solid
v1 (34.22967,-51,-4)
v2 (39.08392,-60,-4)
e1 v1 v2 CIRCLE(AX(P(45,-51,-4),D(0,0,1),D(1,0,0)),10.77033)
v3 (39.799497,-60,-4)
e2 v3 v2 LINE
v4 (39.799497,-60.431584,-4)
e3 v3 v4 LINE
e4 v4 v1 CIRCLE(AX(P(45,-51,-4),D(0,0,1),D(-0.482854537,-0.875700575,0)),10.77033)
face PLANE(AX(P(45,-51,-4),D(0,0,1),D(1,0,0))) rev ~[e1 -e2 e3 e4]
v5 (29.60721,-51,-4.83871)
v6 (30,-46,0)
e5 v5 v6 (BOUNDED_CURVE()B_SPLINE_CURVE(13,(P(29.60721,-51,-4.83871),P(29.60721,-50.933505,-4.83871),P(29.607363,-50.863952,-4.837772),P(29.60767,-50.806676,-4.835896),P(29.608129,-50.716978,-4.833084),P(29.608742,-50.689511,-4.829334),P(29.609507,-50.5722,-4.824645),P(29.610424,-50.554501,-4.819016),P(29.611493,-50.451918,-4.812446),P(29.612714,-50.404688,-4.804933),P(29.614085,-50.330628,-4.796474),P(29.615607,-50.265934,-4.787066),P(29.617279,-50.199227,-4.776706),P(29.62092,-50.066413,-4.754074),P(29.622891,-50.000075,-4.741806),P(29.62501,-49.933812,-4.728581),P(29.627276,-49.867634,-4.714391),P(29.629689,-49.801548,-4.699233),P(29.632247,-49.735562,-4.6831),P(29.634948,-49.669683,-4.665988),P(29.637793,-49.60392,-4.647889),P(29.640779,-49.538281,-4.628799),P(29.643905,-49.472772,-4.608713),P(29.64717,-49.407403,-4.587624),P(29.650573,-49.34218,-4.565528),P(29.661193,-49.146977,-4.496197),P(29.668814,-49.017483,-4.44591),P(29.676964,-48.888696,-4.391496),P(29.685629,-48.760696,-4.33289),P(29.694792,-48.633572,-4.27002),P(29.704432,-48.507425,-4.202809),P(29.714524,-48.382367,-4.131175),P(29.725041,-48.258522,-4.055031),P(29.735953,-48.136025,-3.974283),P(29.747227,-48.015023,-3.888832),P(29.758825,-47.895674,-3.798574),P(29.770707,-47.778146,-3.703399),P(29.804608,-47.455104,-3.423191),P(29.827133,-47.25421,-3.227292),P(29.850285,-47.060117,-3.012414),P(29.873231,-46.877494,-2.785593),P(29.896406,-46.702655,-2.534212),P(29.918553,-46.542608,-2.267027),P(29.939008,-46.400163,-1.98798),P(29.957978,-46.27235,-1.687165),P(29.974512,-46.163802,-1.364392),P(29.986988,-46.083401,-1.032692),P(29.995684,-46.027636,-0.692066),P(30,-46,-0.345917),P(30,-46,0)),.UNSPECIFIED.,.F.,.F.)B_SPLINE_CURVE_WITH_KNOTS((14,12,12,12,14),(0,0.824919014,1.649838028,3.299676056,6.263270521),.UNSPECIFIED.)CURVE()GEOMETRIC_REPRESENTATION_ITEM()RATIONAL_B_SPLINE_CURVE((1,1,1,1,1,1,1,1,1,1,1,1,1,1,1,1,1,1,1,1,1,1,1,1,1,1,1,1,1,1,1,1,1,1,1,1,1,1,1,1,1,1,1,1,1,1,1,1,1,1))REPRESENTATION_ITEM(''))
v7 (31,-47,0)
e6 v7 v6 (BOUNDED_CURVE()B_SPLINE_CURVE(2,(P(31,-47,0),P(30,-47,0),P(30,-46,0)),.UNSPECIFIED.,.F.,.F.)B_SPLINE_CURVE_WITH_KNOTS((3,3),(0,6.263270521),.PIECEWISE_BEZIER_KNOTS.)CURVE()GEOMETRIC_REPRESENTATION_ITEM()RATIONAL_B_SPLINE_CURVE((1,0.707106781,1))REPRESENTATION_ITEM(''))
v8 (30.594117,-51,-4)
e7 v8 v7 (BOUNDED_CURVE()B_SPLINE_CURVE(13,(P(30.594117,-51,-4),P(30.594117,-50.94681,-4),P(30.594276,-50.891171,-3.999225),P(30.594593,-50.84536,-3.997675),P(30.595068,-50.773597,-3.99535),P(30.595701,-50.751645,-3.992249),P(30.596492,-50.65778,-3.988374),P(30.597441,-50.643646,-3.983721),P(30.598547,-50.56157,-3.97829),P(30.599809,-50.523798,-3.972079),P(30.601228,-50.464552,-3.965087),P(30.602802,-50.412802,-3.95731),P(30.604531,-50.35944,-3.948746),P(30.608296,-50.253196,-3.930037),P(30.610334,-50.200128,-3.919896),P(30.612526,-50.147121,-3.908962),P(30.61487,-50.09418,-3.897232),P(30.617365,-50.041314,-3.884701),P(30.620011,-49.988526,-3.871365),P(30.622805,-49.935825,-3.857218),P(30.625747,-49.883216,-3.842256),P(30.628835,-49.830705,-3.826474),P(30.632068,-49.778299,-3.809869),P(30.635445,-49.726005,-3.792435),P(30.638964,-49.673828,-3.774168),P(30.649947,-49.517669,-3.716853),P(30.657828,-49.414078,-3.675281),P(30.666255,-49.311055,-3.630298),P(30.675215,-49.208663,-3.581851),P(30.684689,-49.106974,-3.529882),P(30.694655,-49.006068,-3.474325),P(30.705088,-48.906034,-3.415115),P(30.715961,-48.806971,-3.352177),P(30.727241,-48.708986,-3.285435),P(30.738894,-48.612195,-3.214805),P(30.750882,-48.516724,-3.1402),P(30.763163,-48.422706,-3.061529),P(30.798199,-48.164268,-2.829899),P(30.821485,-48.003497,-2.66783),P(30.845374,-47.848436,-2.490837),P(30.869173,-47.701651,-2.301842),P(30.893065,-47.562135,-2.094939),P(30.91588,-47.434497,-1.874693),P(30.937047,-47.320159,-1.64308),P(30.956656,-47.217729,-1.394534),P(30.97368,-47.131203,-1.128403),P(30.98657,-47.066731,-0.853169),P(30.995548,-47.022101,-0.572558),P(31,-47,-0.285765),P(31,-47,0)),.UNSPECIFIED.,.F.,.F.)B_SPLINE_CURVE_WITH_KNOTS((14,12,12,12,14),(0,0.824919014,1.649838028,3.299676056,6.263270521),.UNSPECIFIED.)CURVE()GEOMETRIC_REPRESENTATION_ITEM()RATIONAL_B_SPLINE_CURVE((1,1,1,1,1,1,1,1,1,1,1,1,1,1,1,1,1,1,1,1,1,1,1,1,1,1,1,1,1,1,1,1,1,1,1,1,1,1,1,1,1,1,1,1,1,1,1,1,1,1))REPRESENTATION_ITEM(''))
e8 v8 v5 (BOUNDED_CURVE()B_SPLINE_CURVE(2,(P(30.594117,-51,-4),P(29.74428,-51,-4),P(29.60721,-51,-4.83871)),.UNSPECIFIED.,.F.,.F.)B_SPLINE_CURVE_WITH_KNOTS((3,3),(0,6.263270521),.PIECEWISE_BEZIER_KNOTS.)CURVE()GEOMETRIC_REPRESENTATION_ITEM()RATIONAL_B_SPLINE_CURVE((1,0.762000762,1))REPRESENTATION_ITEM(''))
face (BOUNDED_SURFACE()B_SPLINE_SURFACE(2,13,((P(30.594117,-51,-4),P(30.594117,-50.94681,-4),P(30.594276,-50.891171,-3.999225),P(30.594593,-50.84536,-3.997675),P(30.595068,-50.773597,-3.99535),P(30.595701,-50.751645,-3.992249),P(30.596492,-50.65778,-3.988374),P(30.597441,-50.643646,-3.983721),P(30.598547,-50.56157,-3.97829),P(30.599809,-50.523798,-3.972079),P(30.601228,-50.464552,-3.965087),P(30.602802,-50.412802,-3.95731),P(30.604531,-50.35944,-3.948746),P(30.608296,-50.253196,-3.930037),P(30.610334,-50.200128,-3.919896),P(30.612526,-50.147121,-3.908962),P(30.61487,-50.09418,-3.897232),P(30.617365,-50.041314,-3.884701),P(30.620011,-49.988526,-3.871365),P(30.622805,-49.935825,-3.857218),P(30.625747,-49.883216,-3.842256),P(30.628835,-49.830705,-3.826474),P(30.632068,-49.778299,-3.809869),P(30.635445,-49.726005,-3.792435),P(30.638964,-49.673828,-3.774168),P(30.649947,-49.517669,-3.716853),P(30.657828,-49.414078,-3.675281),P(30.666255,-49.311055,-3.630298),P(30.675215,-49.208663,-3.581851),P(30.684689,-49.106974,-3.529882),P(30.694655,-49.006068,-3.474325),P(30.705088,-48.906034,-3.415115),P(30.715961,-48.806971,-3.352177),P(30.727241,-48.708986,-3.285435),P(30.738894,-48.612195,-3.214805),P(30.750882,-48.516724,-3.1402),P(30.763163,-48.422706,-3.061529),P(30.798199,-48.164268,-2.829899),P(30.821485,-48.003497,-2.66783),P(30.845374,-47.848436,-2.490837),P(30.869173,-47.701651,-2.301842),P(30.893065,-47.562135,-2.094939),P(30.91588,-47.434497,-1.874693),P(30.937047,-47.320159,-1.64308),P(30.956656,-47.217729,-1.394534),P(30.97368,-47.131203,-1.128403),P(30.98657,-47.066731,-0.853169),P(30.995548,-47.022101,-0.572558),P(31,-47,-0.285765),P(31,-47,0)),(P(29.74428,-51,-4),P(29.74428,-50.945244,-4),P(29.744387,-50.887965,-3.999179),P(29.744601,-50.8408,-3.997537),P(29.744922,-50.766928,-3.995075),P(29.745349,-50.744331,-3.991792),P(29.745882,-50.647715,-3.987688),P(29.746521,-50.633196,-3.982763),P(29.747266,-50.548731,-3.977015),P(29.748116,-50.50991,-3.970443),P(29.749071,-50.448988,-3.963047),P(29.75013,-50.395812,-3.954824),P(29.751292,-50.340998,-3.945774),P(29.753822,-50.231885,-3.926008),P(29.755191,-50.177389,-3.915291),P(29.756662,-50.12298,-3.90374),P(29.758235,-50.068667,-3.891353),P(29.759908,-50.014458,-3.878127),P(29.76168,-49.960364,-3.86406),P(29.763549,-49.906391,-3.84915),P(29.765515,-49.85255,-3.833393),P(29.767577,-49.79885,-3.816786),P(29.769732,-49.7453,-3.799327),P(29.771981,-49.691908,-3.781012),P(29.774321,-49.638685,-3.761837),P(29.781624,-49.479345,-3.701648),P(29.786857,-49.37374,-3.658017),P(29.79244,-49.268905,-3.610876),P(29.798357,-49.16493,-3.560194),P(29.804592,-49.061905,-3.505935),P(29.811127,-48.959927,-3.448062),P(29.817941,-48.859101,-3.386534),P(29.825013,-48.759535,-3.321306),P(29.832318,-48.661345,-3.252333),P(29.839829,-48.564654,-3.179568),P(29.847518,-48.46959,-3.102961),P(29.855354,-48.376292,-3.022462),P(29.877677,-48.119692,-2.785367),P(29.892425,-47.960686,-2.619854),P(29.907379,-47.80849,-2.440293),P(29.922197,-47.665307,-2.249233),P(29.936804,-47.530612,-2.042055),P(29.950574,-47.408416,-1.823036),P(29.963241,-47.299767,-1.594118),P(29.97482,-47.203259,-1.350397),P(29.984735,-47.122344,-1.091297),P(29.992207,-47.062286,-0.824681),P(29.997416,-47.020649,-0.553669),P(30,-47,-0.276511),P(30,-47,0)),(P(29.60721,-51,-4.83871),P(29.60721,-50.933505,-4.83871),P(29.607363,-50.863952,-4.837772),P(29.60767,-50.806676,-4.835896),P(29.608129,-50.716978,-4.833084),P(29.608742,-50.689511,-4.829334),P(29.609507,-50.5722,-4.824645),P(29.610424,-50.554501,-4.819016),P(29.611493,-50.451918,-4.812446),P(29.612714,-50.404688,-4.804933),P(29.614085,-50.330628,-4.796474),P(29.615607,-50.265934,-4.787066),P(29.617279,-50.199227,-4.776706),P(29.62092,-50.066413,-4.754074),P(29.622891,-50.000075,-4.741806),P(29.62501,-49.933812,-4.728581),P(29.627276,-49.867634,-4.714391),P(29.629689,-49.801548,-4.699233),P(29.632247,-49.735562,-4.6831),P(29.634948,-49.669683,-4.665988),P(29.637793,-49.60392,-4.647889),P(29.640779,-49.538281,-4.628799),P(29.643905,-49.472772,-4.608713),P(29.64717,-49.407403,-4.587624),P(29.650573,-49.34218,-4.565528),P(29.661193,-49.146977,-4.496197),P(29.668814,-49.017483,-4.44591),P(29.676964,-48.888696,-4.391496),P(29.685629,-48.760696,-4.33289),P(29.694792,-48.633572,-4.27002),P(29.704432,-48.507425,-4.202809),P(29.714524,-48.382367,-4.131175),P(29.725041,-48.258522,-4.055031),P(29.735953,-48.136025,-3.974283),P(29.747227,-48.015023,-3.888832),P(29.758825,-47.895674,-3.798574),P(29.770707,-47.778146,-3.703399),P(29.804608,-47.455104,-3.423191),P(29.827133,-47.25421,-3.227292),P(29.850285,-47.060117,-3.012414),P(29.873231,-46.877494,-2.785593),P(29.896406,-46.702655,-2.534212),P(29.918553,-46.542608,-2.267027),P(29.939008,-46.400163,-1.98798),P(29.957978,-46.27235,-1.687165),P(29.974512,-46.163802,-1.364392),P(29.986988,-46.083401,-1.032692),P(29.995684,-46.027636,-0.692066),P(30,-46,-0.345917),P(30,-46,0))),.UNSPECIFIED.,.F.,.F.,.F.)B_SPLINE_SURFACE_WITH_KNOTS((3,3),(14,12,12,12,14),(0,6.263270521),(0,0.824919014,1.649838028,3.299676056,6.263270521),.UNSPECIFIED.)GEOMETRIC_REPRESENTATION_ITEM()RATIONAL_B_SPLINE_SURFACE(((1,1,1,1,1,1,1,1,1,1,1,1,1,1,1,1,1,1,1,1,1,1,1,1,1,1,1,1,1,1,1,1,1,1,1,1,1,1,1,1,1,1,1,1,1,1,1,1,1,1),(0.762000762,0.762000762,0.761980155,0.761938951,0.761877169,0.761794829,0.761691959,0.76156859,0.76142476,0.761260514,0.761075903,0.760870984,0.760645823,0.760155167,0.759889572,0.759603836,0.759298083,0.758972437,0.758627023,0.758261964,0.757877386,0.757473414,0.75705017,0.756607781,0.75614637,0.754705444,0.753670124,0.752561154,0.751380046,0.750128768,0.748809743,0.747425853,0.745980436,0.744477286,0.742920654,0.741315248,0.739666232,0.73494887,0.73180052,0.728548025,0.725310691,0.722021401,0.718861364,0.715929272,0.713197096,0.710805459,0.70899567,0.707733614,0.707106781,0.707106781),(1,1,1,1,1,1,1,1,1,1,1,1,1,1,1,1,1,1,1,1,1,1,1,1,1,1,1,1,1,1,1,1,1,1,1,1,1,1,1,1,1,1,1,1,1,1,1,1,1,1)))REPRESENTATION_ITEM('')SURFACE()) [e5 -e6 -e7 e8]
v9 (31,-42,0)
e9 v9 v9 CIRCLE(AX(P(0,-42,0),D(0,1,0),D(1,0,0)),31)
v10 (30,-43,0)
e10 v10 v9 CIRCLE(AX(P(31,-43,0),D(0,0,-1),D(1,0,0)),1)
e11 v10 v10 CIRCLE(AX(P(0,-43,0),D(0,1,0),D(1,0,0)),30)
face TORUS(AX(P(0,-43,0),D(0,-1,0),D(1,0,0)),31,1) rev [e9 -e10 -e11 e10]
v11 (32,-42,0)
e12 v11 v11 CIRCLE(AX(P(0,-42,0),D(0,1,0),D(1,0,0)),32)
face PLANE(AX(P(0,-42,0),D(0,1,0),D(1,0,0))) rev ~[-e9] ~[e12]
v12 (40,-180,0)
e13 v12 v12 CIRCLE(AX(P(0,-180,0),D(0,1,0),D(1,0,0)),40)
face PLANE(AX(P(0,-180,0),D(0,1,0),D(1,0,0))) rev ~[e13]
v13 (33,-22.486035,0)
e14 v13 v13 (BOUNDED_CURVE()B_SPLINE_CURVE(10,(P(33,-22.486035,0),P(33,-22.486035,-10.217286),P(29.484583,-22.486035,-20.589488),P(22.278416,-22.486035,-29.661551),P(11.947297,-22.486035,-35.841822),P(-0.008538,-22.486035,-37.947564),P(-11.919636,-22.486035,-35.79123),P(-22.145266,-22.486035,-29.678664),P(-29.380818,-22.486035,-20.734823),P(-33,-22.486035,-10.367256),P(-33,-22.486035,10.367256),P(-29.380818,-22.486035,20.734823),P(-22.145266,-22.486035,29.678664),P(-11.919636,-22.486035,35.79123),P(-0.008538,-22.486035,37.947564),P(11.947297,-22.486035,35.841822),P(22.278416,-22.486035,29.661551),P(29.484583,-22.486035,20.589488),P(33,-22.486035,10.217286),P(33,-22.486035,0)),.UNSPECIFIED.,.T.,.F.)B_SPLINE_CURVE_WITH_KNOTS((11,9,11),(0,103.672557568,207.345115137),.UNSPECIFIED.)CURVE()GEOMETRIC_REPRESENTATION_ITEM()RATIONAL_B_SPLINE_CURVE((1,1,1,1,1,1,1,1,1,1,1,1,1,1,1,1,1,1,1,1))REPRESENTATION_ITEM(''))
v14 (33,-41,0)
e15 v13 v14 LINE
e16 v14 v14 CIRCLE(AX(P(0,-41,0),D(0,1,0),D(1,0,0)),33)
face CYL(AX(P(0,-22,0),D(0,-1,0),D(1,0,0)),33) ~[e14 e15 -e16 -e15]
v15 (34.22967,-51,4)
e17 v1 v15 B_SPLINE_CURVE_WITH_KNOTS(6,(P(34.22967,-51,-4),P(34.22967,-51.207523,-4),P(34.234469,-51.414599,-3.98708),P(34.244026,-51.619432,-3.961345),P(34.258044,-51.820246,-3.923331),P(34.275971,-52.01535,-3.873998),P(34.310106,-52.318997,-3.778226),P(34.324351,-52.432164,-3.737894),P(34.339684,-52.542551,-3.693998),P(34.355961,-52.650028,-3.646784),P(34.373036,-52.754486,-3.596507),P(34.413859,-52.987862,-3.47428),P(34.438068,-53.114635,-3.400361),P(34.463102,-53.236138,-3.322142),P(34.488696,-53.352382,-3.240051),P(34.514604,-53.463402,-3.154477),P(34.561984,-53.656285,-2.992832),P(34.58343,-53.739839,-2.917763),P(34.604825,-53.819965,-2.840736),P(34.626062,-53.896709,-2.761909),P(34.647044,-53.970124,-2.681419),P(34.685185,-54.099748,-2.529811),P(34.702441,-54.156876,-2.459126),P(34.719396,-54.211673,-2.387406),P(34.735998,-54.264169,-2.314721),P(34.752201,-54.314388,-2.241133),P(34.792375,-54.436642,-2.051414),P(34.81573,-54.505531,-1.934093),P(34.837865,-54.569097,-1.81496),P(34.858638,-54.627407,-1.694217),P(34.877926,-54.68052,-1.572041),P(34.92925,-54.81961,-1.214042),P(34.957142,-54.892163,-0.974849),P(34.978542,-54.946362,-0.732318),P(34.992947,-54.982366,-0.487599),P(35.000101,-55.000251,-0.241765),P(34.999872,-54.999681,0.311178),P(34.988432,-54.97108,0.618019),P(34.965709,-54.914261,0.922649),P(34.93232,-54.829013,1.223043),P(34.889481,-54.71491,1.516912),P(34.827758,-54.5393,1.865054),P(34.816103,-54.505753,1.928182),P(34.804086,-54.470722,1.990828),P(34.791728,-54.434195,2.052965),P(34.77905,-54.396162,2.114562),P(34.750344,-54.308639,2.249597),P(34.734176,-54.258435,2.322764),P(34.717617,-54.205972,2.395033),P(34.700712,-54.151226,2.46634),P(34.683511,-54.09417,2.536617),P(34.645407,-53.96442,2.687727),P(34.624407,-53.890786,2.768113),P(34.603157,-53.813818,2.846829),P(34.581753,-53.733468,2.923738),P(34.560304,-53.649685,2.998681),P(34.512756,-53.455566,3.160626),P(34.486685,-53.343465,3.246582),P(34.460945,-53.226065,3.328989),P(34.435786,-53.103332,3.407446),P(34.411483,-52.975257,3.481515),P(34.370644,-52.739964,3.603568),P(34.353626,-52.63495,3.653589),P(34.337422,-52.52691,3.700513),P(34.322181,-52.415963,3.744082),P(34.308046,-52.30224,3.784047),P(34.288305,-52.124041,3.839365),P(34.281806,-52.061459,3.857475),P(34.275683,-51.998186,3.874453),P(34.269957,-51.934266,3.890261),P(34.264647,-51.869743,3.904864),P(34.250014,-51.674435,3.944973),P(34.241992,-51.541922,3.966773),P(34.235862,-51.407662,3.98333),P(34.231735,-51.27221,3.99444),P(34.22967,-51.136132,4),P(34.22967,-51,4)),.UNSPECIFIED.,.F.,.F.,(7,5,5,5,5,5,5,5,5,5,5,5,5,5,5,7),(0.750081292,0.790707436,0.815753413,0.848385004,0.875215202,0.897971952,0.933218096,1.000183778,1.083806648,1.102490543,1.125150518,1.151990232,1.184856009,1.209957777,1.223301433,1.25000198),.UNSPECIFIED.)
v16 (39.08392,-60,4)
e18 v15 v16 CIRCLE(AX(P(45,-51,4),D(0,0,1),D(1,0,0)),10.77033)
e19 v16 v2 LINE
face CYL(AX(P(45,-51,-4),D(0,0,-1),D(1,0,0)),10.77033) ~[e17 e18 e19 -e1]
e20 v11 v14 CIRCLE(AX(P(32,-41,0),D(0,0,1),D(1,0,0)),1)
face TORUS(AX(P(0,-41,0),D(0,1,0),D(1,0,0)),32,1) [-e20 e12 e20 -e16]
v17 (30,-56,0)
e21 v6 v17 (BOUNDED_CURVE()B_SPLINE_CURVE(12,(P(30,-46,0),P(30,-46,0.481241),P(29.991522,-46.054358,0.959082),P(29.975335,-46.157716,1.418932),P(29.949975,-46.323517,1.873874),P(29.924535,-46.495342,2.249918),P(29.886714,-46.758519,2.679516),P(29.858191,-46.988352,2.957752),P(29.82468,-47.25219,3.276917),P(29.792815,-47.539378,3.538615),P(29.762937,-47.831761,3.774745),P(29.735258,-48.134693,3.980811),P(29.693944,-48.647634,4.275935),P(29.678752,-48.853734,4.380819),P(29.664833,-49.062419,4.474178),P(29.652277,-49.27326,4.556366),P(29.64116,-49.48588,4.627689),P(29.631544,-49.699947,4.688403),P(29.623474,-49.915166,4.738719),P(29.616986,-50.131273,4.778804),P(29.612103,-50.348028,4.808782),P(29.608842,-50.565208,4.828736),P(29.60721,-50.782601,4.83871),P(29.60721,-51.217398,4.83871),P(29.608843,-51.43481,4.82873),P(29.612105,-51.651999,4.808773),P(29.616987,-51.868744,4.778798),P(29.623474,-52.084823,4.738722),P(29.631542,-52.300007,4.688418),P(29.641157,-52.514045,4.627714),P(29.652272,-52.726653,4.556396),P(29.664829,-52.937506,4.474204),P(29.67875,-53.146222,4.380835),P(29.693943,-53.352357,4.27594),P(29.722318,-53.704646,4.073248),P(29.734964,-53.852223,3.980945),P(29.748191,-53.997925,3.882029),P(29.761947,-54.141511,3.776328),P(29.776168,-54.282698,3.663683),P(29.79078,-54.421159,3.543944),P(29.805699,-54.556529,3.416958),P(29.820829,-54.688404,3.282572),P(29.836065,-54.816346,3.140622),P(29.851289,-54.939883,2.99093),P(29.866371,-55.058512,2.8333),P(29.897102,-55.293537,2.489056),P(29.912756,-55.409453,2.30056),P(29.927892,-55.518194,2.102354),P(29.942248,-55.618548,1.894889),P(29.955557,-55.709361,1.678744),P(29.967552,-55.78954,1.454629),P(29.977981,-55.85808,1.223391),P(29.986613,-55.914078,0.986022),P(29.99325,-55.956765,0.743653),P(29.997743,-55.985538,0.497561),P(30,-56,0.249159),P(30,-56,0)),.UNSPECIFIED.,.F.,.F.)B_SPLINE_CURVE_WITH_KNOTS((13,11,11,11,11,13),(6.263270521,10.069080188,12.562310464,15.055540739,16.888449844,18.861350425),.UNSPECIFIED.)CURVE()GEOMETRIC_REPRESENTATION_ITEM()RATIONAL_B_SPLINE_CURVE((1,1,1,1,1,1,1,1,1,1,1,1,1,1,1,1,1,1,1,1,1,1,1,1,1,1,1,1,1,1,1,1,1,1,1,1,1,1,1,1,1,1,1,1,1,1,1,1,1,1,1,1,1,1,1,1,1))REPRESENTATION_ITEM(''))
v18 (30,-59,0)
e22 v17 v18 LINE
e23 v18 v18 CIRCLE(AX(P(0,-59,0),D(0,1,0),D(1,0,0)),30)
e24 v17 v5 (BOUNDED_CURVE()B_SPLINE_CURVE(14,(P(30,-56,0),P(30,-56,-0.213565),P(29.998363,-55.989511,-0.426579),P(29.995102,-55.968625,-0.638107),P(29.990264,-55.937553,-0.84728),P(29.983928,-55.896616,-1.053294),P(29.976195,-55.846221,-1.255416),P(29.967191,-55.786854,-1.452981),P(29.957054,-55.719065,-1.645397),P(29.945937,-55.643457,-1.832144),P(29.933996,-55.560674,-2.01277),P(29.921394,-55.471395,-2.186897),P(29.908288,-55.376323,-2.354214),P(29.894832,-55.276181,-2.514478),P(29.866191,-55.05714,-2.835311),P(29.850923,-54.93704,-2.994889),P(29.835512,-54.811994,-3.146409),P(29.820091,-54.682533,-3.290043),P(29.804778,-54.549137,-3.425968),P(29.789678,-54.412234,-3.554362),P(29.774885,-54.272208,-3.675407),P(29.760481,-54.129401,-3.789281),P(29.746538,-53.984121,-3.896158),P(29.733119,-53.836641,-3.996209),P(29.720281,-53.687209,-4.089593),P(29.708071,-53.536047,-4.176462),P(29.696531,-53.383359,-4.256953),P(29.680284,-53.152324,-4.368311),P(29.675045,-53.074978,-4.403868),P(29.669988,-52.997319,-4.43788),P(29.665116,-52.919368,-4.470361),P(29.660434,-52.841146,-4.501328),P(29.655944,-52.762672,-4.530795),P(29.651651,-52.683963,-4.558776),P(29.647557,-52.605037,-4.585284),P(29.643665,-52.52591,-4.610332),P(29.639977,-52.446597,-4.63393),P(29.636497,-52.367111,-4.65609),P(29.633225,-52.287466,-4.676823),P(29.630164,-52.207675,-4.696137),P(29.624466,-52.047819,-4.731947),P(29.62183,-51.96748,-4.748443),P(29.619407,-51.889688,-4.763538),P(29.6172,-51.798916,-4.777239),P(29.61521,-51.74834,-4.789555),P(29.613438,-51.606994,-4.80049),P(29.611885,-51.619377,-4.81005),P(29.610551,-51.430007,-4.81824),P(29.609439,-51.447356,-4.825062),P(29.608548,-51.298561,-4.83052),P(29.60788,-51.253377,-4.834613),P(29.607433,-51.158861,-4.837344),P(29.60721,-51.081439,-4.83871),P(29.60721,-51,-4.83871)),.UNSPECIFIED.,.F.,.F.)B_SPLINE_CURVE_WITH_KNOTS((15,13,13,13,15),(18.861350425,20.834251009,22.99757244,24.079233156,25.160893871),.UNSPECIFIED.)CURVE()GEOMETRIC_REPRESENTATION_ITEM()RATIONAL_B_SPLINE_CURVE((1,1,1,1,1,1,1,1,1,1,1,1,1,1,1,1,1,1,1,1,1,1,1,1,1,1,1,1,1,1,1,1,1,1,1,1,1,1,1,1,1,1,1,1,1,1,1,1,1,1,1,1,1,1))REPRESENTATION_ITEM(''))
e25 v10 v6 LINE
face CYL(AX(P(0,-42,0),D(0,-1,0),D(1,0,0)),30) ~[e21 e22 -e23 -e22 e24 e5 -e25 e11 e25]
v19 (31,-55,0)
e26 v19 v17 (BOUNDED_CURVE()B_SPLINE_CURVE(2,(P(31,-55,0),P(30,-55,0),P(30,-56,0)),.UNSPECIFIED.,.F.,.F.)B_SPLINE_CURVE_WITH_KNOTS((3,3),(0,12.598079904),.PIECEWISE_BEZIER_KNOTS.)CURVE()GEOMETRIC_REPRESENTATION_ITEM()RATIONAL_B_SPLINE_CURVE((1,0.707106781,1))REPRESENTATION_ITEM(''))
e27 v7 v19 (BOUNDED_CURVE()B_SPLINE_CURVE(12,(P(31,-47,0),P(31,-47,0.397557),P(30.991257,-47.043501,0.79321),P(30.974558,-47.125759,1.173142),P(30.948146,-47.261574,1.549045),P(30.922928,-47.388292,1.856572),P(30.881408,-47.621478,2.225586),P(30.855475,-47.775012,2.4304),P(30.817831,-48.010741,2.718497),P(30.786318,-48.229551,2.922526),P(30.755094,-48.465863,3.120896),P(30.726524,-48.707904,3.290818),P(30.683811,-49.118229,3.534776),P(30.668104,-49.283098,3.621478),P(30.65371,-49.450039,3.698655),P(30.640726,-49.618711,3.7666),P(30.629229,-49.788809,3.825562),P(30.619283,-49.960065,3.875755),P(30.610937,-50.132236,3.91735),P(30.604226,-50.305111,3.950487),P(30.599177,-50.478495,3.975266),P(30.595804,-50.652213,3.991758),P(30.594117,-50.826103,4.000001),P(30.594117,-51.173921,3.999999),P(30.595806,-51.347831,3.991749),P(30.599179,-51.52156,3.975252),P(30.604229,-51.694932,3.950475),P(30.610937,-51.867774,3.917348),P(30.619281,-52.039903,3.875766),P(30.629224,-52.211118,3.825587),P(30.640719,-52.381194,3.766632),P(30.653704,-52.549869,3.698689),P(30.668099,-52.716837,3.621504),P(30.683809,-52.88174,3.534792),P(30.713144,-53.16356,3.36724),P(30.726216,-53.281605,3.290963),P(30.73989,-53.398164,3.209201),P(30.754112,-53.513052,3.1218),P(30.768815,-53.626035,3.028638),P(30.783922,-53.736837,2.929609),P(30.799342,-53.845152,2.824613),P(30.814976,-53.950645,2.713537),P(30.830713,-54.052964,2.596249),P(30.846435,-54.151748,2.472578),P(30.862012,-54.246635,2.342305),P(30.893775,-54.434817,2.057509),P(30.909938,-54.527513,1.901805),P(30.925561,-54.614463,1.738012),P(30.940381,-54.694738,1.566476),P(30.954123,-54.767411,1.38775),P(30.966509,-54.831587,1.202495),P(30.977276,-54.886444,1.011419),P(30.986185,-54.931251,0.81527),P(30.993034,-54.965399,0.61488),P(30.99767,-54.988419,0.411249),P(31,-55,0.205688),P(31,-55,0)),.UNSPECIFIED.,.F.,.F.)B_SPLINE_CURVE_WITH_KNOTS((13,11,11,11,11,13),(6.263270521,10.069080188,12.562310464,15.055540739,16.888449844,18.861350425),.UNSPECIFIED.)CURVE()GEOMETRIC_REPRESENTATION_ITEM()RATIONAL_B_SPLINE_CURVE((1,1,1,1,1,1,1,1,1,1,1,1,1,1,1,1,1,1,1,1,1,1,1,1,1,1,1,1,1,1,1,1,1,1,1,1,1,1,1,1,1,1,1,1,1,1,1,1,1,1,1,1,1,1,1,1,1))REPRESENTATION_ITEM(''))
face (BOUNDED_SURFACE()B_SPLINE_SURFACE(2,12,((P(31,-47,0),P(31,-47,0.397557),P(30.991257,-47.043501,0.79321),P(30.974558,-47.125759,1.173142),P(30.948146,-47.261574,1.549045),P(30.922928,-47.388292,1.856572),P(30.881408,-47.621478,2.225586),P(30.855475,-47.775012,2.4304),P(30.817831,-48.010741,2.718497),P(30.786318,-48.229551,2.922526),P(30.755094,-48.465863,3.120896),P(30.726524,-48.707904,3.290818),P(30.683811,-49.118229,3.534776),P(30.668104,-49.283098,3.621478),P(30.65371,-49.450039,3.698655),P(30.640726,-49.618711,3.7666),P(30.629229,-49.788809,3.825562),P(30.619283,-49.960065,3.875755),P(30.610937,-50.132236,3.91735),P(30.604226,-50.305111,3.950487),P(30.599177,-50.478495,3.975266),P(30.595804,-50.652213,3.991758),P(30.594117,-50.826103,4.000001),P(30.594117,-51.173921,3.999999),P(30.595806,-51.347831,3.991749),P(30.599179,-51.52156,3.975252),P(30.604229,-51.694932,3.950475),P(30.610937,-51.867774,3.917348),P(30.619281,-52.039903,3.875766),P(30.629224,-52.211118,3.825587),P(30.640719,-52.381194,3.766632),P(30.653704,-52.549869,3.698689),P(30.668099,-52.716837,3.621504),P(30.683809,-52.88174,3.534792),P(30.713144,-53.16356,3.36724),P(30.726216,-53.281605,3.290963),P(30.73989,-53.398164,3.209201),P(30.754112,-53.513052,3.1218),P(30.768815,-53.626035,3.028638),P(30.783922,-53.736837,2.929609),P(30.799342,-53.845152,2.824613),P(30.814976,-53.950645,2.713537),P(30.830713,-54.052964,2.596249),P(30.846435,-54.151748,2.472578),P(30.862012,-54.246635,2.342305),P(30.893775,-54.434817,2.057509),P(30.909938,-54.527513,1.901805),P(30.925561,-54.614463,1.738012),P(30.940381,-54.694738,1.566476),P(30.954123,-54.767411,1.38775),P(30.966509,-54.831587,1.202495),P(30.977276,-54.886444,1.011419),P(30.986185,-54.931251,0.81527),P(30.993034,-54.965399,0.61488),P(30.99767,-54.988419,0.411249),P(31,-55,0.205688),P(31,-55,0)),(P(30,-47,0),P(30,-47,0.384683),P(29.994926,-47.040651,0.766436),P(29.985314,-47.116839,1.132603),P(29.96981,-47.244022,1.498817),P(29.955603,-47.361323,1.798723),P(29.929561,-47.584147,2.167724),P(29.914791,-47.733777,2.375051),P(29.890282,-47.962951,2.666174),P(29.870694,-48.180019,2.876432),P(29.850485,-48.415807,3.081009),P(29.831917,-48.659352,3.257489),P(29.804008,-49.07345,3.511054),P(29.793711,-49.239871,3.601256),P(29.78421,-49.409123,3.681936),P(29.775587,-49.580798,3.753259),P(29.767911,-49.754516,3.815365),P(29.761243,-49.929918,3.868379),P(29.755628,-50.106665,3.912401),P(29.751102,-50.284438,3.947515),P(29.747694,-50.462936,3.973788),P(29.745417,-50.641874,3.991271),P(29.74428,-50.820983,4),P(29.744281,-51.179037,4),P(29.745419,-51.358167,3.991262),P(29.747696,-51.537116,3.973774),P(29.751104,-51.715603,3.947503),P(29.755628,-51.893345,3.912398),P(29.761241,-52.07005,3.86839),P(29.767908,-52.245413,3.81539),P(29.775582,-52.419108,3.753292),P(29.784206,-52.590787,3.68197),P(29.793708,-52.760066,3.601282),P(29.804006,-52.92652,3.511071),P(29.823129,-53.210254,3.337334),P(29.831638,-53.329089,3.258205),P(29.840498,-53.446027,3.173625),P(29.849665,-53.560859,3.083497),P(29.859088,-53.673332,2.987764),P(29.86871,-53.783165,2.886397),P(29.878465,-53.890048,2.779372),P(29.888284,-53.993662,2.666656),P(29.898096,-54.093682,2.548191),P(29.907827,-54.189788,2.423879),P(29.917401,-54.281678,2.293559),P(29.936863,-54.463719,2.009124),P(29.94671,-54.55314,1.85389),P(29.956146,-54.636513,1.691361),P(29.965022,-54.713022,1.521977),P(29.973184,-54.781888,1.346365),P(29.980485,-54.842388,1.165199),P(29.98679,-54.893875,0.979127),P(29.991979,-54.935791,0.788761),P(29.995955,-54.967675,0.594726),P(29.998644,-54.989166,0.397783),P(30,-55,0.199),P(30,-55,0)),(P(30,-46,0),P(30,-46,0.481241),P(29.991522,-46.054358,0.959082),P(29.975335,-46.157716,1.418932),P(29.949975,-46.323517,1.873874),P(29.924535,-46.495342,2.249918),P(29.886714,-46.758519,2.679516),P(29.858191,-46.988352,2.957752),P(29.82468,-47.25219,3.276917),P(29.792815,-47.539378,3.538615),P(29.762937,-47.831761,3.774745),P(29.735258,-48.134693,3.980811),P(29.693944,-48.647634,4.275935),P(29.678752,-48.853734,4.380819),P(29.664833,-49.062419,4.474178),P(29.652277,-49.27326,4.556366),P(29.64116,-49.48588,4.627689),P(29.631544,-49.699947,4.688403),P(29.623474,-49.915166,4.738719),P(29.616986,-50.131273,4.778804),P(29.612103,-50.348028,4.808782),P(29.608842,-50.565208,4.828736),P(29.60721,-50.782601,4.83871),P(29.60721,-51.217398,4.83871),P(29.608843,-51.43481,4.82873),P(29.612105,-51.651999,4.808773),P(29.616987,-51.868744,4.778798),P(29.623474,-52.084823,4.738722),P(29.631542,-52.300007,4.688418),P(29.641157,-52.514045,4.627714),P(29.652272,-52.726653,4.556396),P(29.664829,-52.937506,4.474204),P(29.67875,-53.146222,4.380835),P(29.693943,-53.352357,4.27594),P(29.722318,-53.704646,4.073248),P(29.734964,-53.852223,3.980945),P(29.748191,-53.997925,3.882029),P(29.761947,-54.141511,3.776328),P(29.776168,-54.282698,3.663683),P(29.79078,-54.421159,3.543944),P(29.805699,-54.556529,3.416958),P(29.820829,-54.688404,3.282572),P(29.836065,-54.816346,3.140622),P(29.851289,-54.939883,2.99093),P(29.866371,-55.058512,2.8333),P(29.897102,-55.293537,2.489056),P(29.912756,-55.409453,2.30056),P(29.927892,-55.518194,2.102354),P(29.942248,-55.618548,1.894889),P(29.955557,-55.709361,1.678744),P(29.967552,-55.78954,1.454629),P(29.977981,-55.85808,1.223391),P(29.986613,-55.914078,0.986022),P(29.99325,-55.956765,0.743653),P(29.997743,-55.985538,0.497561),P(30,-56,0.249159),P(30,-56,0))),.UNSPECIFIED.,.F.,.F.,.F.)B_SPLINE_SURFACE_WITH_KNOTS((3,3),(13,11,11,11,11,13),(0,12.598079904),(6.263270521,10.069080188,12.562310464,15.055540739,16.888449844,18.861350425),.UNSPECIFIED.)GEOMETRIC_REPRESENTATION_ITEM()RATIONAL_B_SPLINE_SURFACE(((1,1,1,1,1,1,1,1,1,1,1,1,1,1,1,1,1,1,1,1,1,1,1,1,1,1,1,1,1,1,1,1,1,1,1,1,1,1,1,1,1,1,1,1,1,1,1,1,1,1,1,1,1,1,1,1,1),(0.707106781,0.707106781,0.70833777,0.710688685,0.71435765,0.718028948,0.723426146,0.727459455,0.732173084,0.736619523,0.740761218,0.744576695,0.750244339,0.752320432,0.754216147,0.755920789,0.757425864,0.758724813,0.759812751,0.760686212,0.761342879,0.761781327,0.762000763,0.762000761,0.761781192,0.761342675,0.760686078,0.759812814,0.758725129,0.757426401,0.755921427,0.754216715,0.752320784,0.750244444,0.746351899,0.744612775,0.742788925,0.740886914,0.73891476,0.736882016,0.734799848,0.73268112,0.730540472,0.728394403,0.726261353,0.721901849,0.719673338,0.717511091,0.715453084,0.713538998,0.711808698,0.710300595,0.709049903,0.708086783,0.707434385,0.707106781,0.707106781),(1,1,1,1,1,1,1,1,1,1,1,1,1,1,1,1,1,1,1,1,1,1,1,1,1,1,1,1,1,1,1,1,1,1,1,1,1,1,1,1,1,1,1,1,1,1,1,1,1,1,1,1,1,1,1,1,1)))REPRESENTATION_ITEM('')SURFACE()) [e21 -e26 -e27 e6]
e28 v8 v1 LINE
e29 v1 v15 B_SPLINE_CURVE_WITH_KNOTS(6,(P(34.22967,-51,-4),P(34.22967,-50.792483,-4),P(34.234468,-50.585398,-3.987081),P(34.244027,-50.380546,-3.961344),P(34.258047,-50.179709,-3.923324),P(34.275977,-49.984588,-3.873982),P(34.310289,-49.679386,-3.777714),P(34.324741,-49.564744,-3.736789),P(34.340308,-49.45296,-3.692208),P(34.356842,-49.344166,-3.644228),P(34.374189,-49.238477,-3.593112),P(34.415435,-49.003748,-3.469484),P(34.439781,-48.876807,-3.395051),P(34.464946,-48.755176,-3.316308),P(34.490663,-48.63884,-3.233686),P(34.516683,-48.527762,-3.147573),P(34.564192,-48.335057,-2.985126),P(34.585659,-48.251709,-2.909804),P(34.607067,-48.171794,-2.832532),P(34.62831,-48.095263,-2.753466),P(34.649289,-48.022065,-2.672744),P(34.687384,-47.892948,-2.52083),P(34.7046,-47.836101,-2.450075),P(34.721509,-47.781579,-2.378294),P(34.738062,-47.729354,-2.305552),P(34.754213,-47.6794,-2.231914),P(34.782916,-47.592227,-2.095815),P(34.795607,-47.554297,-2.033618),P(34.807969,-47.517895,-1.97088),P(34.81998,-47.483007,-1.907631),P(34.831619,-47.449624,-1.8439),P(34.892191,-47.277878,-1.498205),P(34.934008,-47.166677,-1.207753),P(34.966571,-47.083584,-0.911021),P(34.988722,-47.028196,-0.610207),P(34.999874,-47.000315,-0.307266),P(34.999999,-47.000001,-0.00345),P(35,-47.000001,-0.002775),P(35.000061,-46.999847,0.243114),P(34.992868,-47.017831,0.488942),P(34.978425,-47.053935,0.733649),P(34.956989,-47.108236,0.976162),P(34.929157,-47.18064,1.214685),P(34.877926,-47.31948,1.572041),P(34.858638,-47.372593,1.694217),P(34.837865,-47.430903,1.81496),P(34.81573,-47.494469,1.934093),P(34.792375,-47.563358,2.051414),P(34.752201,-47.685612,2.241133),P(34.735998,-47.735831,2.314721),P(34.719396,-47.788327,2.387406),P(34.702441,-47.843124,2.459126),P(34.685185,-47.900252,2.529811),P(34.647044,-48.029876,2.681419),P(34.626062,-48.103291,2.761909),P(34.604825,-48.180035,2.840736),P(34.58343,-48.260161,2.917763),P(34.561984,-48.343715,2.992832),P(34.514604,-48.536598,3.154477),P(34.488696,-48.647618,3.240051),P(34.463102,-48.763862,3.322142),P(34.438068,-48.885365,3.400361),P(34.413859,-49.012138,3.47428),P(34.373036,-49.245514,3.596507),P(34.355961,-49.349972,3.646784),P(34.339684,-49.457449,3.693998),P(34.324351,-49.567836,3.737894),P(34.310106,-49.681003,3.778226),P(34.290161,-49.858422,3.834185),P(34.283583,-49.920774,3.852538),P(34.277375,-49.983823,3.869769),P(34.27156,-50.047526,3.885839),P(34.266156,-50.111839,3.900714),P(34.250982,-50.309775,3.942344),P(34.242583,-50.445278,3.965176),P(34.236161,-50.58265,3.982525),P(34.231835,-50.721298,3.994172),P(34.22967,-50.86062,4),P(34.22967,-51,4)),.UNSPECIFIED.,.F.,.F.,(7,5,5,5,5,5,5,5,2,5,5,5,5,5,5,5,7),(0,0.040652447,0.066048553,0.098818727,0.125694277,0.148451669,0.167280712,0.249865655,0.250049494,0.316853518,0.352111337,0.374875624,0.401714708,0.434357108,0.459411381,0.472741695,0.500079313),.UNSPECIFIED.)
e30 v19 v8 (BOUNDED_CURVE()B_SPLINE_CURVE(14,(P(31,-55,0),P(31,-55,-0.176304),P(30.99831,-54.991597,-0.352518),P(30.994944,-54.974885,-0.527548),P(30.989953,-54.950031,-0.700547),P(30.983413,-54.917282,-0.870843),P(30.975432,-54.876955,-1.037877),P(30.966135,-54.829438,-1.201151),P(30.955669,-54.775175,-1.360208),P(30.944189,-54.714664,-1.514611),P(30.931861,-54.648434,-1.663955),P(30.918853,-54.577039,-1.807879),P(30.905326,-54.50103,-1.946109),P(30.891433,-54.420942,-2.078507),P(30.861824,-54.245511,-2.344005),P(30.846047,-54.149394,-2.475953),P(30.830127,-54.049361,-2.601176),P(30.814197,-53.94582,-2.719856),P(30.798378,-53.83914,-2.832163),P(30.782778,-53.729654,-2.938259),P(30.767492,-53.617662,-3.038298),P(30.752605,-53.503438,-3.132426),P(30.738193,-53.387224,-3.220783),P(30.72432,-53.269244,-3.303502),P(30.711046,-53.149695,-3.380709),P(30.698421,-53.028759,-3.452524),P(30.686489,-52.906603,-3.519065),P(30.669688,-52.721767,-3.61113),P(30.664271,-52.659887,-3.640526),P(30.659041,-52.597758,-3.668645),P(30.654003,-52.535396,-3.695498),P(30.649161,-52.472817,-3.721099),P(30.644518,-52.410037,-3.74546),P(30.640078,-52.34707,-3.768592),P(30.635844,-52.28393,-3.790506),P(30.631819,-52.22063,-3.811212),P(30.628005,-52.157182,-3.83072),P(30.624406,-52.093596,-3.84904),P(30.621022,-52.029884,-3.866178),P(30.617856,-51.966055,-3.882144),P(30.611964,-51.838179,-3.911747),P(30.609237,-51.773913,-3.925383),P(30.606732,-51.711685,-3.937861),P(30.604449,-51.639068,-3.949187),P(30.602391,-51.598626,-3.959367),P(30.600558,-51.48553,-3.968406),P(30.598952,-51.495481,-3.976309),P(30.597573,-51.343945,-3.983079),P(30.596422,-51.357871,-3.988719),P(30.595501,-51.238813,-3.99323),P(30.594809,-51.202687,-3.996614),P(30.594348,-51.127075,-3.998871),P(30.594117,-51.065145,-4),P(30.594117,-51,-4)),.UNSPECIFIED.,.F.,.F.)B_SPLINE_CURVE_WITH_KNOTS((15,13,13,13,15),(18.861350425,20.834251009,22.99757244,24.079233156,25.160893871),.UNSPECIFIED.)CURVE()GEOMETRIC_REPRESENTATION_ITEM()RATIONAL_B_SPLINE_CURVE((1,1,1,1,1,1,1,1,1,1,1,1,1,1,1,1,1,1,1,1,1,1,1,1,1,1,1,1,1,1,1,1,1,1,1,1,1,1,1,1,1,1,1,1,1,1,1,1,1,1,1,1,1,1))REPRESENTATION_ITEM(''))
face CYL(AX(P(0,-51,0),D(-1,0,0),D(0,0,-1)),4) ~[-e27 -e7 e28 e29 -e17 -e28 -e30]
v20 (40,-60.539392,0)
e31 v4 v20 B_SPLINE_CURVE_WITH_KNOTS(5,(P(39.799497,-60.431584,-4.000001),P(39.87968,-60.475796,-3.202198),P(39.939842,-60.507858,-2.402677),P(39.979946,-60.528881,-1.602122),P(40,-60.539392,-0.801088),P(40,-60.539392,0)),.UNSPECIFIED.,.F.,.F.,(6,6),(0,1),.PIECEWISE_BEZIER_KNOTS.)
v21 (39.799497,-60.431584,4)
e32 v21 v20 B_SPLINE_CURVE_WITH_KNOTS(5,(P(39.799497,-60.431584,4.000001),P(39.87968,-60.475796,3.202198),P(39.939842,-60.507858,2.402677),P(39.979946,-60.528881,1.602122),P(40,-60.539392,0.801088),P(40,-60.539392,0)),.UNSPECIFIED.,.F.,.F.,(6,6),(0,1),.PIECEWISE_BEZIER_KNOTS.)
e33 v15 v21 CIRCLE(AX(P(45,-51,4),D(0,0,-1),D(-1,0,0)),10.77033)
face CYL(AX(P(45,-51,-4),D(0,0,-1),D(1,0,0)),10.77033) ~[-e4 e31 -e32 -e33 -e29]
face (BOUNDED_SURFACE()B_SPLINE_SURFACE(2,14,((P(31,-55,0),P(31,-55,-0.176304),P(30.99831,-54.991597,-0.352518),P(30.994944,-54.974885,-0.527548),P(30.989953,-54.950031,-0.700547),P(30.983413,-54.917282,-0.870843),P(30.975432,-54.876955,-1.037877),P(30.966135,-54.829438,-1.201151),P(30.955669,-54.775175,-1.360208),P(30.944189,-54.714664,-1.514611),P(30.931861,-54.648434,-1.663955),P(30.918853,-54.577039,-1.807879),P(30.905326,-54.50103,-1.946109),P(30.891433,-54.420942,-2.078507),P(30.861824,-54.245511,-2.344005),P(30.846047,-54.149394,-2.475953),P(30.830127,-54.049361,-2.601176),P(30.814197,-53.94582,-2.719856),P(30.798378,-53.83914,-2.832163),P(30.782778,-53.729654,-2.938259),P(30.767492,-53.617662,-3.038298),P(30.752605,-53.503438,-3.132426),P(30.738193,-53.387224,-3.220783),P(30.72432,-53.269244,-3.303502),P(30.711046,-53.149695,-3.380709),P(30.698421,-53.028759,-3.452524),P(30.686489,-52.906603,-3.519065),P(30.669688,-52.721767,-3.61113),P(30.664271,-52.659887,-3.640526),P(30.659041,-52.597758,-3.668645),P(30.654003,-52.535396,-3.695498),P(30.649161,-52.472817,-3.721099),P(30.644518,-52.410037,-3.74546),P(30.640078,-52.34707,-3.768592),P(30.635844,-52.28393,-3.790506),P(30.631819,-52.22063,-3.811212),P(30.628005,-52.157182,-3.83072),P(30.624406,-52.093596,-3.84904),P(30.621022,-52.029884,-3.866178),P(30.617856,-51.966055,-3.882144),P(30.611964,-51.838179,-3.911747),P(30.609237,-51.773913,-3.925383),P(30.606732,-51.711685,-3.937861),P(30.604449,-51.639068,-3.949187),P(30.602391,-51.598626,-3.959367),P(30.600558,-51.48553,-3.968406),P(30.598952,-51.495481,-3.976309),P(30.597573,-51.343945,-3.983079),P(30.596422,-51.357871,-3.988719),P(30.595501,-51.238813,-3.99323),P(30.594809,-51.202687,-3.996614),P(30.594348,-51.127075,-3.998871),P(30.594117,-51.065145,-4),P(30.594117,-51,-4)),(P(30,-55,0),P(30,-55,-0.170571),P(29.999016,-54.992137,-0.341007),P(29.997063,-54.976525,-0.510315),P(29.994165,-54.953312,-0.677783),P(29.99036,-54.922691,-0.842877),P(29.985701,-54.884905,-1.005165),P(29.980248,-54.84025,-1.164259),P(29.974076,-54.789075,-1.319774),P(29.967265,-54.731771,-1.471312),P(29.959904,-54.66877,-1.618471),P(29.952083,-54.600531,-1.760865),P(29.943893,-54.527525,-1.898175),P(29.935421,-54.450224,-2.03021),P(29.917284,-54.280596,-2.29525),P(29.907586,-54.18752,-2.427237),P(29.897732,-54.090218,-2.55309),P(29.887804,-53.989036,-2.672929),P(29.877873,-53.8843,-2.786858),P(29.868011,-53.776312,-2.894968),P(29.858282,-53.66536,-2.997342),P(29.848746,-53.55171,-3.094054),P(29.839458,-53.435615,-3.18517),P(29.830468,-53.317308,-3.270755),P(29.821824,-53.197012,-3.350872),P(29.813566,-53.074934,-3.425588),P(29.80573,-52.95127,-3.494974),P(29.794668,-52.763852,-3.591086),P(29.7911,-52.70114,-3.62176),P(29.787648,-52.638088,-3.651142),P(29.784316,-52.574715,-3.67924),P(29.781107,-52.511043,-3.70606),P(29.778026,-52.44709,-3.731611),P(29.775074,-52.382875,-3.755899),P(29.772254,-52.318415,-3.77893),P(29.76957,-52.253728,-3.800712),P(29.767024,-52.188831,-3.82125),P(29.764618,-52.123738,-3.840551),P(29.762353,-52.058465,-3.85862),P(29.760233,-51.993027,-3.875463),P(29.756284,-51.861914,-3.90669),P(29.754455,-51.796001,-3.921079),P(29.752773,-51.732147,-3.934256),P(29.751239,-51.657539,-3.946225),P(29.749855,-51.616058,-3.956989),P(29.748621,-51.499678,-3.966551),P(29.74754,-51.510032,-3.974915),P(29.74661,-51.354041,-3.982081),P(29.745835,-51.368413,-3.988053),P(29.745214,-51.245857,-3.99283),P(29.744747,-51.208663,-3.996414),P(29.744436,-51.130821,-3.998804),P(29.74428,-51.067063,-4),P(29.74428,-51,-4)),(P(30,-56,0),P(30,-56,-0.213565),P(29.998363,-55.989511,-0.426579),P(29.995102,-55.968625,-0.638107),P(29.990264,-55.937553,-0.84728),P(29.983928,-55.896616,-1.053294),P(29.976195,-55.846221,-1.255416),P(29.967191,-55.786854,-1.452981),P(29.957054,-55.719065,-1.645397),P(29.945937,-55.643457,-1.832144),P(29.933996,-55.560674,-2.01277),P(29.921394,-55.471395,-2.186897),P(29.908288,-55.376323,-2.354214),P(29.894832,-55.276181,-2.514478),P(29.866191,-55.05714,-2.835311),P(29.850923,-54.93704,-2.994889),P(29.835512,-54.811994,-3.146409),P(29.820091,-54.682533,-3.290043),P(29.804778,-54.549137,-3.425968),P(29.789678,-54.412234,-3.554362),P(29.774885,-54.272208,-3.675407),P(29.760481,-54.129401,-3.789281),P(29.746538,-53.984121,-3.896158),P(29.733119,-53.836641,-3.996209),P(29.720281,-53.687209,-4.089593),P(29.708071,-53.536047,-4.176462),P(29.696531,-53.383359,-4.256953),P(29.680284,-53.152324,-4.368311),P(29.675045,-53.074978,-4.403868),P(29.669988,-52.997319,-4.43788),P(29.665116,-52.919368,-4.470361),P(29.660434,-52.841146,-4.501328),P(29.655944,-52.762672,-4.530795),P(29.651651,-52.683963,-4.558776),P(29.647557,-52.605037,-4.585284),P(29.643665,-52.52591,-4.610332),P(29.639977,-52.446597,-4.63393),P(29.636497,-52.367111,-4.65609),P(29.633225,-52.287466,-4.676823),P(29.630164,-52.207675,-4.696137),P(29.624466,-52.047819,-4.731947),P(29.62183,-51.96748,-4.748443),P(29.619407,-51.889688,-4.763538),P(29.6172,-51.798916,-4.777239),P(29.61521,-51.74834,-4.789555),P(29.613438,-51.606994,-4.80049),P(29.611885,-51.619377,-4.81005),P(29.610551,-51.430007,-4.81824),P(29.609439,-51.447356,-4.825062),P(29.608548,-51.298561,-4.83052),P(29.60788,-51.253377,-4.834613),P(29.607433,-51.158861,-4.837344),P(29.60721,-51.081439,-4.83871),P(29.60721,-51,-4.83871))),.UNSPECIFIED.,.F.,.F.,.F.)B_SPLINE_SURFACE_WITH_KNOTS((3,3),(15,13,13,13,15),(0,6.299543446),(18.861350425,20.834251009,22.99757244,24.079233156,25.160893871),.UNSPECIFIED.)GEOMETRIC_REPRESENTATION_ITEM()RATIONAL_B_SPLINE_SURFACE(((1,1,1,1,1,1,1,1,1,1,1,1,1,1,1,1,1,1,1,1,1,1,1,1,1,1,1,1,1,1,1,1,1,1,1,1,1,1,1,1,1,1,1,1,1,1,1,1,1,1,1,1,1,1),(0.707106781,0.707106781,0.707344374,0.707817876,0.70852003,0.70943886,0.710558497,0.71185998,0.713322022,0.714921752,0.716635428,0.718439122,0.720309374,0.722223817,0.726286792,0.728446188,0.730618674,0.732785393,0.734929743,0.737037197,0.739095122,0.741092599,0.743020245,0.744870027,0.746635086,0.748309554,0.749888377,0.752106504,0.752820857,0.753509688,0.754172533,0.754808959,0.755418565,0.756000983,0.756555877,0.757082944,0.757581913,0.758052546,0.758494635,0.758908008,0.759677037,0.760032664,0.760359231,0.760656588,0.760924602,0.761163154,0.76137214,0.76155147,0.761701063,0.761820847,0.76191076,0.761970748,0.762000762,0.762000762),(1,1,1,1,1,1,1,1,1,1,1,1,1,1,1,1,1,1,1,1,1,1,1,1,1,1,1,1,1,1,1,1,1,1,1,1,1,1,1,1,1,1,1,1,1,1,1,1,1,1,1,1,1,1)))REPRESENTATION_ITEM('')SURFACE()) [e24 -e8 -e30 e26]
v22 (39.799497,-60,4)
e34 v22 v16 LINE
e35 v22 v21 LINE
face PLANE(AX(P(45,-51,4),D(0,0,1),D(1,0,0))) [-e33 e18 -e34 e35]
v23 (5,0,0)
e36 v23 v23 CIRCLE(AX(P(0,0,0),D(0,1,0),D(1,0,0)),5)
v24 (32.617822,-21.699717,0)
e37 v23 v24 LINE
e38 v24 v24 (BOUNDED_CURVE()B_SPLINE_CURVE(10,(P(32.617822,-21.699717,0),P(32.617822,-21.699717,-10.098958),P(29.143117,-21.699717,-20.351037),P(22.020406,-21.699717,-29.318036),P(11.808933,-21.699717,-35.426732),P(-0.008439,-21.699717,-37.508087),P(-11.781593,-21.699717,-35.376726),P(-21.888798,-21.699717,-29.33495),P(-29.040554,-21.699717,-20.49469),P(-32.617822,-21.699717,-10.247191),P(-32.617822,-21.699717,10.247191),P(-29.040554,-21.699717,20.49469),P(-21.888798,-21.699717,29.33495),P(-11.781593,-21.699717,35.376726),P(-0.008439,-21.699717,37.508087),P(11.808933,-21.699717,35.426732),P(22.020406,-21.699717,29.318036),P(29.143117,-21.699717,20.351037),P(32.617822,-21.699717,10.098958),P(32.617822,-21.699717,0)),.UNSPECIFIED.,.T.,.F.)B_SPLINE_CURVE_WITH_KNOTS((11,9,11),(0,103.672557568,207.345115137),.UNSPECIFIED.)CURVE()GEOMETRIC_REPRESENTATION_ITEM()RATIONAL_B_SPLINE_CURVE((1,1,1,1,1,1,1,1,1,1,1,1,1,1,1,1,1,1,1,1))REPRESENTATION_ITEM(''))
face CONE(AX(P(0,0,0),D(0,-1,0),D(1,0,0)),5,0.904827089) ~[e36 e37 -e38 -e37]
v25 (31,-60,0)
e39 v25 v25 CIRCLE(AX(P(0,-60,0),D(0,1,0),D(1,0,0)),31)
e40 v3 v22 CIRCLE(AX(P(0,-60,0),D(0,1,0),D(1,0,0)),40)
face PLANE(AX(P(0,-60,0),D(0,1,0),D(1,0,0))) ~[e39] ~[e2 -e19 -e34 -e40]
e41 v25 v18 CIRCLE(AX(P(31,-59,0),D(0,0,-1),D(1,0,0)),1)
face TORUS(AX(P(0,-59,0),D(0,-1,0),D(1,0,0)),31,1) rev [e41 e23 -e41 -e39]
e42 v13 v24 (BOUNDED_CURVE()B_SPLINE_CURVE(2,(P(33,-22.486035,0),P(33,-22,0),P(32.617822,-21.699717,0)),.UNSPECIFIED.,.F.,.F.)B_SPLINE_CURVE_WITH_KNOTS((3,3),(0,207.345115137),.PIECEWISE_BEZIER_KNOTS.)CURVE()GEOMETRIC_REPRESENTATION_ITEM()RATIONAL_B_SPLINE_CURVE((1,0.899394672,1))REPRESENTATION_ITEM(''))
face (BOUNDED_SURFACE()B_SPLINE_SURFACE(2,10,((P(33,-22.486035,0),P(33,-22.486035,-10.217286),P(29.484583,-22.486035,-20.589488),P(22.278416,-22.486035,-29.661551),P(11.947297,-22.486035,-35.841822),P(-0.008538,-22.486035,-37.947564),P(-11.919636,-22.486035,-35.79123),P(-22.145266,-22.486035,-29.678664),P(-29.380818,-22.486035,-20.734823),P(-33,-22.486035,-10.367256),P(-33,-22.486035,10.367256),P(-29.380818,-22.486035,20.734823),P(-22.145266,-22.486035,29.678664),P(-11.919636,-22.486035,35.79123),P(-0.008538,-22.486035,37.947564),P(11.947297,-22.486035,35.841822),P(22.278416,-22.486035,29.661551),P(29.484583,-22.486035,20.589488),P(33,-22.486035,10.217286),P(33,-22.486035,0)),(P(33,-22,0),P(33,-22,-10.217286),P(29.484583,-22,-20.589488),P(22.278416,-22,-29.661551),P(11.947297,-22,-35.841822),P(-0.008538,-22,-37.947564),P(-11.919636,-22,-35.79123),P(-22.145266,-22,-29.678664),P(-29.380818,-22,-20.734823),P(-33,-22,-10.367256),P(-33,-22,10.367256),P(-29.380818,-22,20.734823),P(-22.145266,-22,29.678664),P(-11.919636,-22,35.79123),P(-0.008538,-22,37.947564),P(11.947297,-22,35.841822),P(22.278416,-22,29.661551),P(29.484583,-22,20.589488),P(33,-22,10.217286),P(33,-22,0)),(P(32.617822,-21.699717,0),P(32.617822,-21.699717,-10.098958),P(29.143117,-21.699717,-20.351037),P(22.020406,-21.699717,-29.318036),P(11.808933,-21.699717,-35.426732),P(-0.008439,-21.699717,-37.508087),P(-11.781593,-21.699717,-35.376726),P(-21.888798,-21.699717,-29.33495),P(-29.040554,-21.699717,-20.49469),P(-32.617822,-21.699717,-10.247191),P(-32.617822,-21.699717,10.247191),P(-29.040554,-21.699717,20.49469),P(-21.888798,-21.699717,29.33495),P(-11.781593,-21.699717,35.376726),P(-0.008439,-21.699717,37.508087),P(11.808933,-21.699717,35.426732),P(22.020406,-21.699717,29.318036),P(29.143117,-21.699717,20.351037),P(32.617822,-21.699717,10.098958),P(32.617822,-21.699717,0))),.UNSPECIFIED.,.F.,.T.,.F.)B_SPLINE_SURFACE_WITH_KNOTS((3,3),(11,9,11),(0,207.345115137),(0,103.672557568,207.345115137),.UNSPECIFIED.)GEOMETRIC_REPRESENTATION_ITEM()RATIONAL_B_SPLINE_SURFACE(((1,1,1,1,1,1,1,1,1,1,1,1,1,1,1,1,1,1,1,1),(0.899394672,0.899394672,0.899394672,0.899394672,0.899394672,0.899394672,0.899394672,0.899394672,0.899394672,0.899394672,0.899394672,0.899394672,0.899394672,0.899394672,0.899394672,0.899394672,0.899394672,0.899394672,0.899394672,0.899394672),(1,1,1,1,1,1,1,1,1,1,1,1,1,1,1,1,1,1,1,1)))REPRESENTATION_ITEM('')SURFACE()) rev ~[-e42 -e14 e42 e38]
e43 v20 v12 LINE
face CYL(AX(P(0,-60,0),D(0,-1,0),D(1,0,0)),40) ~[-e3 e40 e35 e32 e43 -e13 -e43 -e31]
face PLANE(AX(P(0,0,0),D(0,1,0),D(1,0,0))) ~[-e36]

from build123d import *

# Parameters (mm, degrees)
SKETCH_2_R           = 4
EXTRUDE_1_DEPTH      = 35
EXTRUDE_2_DEPTH      = 4
EXTRUDE_2_DEPTH_BACK = 4
SKETCH_3_R           = 10.770329614
FILLET_3_R           = 1


with BuildPart() as part:
    # 草图1 → 旋转1 (revolve)
    with BuildSketch(Plane.XY):
        Polygon((0, 0), (5, 0), (33, -22), (33, -42), (30, -42), (30, -60), (40, -60), (40, -180), (0, -180), align=None)
    revolve(axis=Axis((0, -180, 0), (0, 1, 0)))

    # 草图2 → 凸台-拉伸1 (add)
    with BuildSketch(Plane(origin=(0, 0, 0), x_dir=(0, 0, -1), z_dir=(1, 0, 0))):
        with Locations((0, -51)):
            Circle(SKETCH_2_R)
    extrude(amount=EXTRUDE_1_DEPTH)

    # 草图3 → 凸台-拉伸2 (add, two sides: drawn at the far end of the back side and taken through both)
    with BuildSketch(Plane.XY.offset(-EXTRUDE_2_DEPTH_BACK)):
        with Locations((45, -51)):
            Circle(SKETCH_3_R)
    extrude(amount=EXTRUDE_2_DEPTH + EXTRUDE_2_DEPTH_BACK)

    # 圆角3
    fillet_3_edges = [part.edges().sort_by_distance(p)[0] for p in [
        (29.866368157, -48.17158234, -2.828436552),
        (-30, -60, 0),
        (-30, -42, 0),
        (-33, -22, 0),
        (-33, -42, 0),
    ]]
    fillet(fillet_3_edges, radius=FILLET_3_R)


solid = part.part
